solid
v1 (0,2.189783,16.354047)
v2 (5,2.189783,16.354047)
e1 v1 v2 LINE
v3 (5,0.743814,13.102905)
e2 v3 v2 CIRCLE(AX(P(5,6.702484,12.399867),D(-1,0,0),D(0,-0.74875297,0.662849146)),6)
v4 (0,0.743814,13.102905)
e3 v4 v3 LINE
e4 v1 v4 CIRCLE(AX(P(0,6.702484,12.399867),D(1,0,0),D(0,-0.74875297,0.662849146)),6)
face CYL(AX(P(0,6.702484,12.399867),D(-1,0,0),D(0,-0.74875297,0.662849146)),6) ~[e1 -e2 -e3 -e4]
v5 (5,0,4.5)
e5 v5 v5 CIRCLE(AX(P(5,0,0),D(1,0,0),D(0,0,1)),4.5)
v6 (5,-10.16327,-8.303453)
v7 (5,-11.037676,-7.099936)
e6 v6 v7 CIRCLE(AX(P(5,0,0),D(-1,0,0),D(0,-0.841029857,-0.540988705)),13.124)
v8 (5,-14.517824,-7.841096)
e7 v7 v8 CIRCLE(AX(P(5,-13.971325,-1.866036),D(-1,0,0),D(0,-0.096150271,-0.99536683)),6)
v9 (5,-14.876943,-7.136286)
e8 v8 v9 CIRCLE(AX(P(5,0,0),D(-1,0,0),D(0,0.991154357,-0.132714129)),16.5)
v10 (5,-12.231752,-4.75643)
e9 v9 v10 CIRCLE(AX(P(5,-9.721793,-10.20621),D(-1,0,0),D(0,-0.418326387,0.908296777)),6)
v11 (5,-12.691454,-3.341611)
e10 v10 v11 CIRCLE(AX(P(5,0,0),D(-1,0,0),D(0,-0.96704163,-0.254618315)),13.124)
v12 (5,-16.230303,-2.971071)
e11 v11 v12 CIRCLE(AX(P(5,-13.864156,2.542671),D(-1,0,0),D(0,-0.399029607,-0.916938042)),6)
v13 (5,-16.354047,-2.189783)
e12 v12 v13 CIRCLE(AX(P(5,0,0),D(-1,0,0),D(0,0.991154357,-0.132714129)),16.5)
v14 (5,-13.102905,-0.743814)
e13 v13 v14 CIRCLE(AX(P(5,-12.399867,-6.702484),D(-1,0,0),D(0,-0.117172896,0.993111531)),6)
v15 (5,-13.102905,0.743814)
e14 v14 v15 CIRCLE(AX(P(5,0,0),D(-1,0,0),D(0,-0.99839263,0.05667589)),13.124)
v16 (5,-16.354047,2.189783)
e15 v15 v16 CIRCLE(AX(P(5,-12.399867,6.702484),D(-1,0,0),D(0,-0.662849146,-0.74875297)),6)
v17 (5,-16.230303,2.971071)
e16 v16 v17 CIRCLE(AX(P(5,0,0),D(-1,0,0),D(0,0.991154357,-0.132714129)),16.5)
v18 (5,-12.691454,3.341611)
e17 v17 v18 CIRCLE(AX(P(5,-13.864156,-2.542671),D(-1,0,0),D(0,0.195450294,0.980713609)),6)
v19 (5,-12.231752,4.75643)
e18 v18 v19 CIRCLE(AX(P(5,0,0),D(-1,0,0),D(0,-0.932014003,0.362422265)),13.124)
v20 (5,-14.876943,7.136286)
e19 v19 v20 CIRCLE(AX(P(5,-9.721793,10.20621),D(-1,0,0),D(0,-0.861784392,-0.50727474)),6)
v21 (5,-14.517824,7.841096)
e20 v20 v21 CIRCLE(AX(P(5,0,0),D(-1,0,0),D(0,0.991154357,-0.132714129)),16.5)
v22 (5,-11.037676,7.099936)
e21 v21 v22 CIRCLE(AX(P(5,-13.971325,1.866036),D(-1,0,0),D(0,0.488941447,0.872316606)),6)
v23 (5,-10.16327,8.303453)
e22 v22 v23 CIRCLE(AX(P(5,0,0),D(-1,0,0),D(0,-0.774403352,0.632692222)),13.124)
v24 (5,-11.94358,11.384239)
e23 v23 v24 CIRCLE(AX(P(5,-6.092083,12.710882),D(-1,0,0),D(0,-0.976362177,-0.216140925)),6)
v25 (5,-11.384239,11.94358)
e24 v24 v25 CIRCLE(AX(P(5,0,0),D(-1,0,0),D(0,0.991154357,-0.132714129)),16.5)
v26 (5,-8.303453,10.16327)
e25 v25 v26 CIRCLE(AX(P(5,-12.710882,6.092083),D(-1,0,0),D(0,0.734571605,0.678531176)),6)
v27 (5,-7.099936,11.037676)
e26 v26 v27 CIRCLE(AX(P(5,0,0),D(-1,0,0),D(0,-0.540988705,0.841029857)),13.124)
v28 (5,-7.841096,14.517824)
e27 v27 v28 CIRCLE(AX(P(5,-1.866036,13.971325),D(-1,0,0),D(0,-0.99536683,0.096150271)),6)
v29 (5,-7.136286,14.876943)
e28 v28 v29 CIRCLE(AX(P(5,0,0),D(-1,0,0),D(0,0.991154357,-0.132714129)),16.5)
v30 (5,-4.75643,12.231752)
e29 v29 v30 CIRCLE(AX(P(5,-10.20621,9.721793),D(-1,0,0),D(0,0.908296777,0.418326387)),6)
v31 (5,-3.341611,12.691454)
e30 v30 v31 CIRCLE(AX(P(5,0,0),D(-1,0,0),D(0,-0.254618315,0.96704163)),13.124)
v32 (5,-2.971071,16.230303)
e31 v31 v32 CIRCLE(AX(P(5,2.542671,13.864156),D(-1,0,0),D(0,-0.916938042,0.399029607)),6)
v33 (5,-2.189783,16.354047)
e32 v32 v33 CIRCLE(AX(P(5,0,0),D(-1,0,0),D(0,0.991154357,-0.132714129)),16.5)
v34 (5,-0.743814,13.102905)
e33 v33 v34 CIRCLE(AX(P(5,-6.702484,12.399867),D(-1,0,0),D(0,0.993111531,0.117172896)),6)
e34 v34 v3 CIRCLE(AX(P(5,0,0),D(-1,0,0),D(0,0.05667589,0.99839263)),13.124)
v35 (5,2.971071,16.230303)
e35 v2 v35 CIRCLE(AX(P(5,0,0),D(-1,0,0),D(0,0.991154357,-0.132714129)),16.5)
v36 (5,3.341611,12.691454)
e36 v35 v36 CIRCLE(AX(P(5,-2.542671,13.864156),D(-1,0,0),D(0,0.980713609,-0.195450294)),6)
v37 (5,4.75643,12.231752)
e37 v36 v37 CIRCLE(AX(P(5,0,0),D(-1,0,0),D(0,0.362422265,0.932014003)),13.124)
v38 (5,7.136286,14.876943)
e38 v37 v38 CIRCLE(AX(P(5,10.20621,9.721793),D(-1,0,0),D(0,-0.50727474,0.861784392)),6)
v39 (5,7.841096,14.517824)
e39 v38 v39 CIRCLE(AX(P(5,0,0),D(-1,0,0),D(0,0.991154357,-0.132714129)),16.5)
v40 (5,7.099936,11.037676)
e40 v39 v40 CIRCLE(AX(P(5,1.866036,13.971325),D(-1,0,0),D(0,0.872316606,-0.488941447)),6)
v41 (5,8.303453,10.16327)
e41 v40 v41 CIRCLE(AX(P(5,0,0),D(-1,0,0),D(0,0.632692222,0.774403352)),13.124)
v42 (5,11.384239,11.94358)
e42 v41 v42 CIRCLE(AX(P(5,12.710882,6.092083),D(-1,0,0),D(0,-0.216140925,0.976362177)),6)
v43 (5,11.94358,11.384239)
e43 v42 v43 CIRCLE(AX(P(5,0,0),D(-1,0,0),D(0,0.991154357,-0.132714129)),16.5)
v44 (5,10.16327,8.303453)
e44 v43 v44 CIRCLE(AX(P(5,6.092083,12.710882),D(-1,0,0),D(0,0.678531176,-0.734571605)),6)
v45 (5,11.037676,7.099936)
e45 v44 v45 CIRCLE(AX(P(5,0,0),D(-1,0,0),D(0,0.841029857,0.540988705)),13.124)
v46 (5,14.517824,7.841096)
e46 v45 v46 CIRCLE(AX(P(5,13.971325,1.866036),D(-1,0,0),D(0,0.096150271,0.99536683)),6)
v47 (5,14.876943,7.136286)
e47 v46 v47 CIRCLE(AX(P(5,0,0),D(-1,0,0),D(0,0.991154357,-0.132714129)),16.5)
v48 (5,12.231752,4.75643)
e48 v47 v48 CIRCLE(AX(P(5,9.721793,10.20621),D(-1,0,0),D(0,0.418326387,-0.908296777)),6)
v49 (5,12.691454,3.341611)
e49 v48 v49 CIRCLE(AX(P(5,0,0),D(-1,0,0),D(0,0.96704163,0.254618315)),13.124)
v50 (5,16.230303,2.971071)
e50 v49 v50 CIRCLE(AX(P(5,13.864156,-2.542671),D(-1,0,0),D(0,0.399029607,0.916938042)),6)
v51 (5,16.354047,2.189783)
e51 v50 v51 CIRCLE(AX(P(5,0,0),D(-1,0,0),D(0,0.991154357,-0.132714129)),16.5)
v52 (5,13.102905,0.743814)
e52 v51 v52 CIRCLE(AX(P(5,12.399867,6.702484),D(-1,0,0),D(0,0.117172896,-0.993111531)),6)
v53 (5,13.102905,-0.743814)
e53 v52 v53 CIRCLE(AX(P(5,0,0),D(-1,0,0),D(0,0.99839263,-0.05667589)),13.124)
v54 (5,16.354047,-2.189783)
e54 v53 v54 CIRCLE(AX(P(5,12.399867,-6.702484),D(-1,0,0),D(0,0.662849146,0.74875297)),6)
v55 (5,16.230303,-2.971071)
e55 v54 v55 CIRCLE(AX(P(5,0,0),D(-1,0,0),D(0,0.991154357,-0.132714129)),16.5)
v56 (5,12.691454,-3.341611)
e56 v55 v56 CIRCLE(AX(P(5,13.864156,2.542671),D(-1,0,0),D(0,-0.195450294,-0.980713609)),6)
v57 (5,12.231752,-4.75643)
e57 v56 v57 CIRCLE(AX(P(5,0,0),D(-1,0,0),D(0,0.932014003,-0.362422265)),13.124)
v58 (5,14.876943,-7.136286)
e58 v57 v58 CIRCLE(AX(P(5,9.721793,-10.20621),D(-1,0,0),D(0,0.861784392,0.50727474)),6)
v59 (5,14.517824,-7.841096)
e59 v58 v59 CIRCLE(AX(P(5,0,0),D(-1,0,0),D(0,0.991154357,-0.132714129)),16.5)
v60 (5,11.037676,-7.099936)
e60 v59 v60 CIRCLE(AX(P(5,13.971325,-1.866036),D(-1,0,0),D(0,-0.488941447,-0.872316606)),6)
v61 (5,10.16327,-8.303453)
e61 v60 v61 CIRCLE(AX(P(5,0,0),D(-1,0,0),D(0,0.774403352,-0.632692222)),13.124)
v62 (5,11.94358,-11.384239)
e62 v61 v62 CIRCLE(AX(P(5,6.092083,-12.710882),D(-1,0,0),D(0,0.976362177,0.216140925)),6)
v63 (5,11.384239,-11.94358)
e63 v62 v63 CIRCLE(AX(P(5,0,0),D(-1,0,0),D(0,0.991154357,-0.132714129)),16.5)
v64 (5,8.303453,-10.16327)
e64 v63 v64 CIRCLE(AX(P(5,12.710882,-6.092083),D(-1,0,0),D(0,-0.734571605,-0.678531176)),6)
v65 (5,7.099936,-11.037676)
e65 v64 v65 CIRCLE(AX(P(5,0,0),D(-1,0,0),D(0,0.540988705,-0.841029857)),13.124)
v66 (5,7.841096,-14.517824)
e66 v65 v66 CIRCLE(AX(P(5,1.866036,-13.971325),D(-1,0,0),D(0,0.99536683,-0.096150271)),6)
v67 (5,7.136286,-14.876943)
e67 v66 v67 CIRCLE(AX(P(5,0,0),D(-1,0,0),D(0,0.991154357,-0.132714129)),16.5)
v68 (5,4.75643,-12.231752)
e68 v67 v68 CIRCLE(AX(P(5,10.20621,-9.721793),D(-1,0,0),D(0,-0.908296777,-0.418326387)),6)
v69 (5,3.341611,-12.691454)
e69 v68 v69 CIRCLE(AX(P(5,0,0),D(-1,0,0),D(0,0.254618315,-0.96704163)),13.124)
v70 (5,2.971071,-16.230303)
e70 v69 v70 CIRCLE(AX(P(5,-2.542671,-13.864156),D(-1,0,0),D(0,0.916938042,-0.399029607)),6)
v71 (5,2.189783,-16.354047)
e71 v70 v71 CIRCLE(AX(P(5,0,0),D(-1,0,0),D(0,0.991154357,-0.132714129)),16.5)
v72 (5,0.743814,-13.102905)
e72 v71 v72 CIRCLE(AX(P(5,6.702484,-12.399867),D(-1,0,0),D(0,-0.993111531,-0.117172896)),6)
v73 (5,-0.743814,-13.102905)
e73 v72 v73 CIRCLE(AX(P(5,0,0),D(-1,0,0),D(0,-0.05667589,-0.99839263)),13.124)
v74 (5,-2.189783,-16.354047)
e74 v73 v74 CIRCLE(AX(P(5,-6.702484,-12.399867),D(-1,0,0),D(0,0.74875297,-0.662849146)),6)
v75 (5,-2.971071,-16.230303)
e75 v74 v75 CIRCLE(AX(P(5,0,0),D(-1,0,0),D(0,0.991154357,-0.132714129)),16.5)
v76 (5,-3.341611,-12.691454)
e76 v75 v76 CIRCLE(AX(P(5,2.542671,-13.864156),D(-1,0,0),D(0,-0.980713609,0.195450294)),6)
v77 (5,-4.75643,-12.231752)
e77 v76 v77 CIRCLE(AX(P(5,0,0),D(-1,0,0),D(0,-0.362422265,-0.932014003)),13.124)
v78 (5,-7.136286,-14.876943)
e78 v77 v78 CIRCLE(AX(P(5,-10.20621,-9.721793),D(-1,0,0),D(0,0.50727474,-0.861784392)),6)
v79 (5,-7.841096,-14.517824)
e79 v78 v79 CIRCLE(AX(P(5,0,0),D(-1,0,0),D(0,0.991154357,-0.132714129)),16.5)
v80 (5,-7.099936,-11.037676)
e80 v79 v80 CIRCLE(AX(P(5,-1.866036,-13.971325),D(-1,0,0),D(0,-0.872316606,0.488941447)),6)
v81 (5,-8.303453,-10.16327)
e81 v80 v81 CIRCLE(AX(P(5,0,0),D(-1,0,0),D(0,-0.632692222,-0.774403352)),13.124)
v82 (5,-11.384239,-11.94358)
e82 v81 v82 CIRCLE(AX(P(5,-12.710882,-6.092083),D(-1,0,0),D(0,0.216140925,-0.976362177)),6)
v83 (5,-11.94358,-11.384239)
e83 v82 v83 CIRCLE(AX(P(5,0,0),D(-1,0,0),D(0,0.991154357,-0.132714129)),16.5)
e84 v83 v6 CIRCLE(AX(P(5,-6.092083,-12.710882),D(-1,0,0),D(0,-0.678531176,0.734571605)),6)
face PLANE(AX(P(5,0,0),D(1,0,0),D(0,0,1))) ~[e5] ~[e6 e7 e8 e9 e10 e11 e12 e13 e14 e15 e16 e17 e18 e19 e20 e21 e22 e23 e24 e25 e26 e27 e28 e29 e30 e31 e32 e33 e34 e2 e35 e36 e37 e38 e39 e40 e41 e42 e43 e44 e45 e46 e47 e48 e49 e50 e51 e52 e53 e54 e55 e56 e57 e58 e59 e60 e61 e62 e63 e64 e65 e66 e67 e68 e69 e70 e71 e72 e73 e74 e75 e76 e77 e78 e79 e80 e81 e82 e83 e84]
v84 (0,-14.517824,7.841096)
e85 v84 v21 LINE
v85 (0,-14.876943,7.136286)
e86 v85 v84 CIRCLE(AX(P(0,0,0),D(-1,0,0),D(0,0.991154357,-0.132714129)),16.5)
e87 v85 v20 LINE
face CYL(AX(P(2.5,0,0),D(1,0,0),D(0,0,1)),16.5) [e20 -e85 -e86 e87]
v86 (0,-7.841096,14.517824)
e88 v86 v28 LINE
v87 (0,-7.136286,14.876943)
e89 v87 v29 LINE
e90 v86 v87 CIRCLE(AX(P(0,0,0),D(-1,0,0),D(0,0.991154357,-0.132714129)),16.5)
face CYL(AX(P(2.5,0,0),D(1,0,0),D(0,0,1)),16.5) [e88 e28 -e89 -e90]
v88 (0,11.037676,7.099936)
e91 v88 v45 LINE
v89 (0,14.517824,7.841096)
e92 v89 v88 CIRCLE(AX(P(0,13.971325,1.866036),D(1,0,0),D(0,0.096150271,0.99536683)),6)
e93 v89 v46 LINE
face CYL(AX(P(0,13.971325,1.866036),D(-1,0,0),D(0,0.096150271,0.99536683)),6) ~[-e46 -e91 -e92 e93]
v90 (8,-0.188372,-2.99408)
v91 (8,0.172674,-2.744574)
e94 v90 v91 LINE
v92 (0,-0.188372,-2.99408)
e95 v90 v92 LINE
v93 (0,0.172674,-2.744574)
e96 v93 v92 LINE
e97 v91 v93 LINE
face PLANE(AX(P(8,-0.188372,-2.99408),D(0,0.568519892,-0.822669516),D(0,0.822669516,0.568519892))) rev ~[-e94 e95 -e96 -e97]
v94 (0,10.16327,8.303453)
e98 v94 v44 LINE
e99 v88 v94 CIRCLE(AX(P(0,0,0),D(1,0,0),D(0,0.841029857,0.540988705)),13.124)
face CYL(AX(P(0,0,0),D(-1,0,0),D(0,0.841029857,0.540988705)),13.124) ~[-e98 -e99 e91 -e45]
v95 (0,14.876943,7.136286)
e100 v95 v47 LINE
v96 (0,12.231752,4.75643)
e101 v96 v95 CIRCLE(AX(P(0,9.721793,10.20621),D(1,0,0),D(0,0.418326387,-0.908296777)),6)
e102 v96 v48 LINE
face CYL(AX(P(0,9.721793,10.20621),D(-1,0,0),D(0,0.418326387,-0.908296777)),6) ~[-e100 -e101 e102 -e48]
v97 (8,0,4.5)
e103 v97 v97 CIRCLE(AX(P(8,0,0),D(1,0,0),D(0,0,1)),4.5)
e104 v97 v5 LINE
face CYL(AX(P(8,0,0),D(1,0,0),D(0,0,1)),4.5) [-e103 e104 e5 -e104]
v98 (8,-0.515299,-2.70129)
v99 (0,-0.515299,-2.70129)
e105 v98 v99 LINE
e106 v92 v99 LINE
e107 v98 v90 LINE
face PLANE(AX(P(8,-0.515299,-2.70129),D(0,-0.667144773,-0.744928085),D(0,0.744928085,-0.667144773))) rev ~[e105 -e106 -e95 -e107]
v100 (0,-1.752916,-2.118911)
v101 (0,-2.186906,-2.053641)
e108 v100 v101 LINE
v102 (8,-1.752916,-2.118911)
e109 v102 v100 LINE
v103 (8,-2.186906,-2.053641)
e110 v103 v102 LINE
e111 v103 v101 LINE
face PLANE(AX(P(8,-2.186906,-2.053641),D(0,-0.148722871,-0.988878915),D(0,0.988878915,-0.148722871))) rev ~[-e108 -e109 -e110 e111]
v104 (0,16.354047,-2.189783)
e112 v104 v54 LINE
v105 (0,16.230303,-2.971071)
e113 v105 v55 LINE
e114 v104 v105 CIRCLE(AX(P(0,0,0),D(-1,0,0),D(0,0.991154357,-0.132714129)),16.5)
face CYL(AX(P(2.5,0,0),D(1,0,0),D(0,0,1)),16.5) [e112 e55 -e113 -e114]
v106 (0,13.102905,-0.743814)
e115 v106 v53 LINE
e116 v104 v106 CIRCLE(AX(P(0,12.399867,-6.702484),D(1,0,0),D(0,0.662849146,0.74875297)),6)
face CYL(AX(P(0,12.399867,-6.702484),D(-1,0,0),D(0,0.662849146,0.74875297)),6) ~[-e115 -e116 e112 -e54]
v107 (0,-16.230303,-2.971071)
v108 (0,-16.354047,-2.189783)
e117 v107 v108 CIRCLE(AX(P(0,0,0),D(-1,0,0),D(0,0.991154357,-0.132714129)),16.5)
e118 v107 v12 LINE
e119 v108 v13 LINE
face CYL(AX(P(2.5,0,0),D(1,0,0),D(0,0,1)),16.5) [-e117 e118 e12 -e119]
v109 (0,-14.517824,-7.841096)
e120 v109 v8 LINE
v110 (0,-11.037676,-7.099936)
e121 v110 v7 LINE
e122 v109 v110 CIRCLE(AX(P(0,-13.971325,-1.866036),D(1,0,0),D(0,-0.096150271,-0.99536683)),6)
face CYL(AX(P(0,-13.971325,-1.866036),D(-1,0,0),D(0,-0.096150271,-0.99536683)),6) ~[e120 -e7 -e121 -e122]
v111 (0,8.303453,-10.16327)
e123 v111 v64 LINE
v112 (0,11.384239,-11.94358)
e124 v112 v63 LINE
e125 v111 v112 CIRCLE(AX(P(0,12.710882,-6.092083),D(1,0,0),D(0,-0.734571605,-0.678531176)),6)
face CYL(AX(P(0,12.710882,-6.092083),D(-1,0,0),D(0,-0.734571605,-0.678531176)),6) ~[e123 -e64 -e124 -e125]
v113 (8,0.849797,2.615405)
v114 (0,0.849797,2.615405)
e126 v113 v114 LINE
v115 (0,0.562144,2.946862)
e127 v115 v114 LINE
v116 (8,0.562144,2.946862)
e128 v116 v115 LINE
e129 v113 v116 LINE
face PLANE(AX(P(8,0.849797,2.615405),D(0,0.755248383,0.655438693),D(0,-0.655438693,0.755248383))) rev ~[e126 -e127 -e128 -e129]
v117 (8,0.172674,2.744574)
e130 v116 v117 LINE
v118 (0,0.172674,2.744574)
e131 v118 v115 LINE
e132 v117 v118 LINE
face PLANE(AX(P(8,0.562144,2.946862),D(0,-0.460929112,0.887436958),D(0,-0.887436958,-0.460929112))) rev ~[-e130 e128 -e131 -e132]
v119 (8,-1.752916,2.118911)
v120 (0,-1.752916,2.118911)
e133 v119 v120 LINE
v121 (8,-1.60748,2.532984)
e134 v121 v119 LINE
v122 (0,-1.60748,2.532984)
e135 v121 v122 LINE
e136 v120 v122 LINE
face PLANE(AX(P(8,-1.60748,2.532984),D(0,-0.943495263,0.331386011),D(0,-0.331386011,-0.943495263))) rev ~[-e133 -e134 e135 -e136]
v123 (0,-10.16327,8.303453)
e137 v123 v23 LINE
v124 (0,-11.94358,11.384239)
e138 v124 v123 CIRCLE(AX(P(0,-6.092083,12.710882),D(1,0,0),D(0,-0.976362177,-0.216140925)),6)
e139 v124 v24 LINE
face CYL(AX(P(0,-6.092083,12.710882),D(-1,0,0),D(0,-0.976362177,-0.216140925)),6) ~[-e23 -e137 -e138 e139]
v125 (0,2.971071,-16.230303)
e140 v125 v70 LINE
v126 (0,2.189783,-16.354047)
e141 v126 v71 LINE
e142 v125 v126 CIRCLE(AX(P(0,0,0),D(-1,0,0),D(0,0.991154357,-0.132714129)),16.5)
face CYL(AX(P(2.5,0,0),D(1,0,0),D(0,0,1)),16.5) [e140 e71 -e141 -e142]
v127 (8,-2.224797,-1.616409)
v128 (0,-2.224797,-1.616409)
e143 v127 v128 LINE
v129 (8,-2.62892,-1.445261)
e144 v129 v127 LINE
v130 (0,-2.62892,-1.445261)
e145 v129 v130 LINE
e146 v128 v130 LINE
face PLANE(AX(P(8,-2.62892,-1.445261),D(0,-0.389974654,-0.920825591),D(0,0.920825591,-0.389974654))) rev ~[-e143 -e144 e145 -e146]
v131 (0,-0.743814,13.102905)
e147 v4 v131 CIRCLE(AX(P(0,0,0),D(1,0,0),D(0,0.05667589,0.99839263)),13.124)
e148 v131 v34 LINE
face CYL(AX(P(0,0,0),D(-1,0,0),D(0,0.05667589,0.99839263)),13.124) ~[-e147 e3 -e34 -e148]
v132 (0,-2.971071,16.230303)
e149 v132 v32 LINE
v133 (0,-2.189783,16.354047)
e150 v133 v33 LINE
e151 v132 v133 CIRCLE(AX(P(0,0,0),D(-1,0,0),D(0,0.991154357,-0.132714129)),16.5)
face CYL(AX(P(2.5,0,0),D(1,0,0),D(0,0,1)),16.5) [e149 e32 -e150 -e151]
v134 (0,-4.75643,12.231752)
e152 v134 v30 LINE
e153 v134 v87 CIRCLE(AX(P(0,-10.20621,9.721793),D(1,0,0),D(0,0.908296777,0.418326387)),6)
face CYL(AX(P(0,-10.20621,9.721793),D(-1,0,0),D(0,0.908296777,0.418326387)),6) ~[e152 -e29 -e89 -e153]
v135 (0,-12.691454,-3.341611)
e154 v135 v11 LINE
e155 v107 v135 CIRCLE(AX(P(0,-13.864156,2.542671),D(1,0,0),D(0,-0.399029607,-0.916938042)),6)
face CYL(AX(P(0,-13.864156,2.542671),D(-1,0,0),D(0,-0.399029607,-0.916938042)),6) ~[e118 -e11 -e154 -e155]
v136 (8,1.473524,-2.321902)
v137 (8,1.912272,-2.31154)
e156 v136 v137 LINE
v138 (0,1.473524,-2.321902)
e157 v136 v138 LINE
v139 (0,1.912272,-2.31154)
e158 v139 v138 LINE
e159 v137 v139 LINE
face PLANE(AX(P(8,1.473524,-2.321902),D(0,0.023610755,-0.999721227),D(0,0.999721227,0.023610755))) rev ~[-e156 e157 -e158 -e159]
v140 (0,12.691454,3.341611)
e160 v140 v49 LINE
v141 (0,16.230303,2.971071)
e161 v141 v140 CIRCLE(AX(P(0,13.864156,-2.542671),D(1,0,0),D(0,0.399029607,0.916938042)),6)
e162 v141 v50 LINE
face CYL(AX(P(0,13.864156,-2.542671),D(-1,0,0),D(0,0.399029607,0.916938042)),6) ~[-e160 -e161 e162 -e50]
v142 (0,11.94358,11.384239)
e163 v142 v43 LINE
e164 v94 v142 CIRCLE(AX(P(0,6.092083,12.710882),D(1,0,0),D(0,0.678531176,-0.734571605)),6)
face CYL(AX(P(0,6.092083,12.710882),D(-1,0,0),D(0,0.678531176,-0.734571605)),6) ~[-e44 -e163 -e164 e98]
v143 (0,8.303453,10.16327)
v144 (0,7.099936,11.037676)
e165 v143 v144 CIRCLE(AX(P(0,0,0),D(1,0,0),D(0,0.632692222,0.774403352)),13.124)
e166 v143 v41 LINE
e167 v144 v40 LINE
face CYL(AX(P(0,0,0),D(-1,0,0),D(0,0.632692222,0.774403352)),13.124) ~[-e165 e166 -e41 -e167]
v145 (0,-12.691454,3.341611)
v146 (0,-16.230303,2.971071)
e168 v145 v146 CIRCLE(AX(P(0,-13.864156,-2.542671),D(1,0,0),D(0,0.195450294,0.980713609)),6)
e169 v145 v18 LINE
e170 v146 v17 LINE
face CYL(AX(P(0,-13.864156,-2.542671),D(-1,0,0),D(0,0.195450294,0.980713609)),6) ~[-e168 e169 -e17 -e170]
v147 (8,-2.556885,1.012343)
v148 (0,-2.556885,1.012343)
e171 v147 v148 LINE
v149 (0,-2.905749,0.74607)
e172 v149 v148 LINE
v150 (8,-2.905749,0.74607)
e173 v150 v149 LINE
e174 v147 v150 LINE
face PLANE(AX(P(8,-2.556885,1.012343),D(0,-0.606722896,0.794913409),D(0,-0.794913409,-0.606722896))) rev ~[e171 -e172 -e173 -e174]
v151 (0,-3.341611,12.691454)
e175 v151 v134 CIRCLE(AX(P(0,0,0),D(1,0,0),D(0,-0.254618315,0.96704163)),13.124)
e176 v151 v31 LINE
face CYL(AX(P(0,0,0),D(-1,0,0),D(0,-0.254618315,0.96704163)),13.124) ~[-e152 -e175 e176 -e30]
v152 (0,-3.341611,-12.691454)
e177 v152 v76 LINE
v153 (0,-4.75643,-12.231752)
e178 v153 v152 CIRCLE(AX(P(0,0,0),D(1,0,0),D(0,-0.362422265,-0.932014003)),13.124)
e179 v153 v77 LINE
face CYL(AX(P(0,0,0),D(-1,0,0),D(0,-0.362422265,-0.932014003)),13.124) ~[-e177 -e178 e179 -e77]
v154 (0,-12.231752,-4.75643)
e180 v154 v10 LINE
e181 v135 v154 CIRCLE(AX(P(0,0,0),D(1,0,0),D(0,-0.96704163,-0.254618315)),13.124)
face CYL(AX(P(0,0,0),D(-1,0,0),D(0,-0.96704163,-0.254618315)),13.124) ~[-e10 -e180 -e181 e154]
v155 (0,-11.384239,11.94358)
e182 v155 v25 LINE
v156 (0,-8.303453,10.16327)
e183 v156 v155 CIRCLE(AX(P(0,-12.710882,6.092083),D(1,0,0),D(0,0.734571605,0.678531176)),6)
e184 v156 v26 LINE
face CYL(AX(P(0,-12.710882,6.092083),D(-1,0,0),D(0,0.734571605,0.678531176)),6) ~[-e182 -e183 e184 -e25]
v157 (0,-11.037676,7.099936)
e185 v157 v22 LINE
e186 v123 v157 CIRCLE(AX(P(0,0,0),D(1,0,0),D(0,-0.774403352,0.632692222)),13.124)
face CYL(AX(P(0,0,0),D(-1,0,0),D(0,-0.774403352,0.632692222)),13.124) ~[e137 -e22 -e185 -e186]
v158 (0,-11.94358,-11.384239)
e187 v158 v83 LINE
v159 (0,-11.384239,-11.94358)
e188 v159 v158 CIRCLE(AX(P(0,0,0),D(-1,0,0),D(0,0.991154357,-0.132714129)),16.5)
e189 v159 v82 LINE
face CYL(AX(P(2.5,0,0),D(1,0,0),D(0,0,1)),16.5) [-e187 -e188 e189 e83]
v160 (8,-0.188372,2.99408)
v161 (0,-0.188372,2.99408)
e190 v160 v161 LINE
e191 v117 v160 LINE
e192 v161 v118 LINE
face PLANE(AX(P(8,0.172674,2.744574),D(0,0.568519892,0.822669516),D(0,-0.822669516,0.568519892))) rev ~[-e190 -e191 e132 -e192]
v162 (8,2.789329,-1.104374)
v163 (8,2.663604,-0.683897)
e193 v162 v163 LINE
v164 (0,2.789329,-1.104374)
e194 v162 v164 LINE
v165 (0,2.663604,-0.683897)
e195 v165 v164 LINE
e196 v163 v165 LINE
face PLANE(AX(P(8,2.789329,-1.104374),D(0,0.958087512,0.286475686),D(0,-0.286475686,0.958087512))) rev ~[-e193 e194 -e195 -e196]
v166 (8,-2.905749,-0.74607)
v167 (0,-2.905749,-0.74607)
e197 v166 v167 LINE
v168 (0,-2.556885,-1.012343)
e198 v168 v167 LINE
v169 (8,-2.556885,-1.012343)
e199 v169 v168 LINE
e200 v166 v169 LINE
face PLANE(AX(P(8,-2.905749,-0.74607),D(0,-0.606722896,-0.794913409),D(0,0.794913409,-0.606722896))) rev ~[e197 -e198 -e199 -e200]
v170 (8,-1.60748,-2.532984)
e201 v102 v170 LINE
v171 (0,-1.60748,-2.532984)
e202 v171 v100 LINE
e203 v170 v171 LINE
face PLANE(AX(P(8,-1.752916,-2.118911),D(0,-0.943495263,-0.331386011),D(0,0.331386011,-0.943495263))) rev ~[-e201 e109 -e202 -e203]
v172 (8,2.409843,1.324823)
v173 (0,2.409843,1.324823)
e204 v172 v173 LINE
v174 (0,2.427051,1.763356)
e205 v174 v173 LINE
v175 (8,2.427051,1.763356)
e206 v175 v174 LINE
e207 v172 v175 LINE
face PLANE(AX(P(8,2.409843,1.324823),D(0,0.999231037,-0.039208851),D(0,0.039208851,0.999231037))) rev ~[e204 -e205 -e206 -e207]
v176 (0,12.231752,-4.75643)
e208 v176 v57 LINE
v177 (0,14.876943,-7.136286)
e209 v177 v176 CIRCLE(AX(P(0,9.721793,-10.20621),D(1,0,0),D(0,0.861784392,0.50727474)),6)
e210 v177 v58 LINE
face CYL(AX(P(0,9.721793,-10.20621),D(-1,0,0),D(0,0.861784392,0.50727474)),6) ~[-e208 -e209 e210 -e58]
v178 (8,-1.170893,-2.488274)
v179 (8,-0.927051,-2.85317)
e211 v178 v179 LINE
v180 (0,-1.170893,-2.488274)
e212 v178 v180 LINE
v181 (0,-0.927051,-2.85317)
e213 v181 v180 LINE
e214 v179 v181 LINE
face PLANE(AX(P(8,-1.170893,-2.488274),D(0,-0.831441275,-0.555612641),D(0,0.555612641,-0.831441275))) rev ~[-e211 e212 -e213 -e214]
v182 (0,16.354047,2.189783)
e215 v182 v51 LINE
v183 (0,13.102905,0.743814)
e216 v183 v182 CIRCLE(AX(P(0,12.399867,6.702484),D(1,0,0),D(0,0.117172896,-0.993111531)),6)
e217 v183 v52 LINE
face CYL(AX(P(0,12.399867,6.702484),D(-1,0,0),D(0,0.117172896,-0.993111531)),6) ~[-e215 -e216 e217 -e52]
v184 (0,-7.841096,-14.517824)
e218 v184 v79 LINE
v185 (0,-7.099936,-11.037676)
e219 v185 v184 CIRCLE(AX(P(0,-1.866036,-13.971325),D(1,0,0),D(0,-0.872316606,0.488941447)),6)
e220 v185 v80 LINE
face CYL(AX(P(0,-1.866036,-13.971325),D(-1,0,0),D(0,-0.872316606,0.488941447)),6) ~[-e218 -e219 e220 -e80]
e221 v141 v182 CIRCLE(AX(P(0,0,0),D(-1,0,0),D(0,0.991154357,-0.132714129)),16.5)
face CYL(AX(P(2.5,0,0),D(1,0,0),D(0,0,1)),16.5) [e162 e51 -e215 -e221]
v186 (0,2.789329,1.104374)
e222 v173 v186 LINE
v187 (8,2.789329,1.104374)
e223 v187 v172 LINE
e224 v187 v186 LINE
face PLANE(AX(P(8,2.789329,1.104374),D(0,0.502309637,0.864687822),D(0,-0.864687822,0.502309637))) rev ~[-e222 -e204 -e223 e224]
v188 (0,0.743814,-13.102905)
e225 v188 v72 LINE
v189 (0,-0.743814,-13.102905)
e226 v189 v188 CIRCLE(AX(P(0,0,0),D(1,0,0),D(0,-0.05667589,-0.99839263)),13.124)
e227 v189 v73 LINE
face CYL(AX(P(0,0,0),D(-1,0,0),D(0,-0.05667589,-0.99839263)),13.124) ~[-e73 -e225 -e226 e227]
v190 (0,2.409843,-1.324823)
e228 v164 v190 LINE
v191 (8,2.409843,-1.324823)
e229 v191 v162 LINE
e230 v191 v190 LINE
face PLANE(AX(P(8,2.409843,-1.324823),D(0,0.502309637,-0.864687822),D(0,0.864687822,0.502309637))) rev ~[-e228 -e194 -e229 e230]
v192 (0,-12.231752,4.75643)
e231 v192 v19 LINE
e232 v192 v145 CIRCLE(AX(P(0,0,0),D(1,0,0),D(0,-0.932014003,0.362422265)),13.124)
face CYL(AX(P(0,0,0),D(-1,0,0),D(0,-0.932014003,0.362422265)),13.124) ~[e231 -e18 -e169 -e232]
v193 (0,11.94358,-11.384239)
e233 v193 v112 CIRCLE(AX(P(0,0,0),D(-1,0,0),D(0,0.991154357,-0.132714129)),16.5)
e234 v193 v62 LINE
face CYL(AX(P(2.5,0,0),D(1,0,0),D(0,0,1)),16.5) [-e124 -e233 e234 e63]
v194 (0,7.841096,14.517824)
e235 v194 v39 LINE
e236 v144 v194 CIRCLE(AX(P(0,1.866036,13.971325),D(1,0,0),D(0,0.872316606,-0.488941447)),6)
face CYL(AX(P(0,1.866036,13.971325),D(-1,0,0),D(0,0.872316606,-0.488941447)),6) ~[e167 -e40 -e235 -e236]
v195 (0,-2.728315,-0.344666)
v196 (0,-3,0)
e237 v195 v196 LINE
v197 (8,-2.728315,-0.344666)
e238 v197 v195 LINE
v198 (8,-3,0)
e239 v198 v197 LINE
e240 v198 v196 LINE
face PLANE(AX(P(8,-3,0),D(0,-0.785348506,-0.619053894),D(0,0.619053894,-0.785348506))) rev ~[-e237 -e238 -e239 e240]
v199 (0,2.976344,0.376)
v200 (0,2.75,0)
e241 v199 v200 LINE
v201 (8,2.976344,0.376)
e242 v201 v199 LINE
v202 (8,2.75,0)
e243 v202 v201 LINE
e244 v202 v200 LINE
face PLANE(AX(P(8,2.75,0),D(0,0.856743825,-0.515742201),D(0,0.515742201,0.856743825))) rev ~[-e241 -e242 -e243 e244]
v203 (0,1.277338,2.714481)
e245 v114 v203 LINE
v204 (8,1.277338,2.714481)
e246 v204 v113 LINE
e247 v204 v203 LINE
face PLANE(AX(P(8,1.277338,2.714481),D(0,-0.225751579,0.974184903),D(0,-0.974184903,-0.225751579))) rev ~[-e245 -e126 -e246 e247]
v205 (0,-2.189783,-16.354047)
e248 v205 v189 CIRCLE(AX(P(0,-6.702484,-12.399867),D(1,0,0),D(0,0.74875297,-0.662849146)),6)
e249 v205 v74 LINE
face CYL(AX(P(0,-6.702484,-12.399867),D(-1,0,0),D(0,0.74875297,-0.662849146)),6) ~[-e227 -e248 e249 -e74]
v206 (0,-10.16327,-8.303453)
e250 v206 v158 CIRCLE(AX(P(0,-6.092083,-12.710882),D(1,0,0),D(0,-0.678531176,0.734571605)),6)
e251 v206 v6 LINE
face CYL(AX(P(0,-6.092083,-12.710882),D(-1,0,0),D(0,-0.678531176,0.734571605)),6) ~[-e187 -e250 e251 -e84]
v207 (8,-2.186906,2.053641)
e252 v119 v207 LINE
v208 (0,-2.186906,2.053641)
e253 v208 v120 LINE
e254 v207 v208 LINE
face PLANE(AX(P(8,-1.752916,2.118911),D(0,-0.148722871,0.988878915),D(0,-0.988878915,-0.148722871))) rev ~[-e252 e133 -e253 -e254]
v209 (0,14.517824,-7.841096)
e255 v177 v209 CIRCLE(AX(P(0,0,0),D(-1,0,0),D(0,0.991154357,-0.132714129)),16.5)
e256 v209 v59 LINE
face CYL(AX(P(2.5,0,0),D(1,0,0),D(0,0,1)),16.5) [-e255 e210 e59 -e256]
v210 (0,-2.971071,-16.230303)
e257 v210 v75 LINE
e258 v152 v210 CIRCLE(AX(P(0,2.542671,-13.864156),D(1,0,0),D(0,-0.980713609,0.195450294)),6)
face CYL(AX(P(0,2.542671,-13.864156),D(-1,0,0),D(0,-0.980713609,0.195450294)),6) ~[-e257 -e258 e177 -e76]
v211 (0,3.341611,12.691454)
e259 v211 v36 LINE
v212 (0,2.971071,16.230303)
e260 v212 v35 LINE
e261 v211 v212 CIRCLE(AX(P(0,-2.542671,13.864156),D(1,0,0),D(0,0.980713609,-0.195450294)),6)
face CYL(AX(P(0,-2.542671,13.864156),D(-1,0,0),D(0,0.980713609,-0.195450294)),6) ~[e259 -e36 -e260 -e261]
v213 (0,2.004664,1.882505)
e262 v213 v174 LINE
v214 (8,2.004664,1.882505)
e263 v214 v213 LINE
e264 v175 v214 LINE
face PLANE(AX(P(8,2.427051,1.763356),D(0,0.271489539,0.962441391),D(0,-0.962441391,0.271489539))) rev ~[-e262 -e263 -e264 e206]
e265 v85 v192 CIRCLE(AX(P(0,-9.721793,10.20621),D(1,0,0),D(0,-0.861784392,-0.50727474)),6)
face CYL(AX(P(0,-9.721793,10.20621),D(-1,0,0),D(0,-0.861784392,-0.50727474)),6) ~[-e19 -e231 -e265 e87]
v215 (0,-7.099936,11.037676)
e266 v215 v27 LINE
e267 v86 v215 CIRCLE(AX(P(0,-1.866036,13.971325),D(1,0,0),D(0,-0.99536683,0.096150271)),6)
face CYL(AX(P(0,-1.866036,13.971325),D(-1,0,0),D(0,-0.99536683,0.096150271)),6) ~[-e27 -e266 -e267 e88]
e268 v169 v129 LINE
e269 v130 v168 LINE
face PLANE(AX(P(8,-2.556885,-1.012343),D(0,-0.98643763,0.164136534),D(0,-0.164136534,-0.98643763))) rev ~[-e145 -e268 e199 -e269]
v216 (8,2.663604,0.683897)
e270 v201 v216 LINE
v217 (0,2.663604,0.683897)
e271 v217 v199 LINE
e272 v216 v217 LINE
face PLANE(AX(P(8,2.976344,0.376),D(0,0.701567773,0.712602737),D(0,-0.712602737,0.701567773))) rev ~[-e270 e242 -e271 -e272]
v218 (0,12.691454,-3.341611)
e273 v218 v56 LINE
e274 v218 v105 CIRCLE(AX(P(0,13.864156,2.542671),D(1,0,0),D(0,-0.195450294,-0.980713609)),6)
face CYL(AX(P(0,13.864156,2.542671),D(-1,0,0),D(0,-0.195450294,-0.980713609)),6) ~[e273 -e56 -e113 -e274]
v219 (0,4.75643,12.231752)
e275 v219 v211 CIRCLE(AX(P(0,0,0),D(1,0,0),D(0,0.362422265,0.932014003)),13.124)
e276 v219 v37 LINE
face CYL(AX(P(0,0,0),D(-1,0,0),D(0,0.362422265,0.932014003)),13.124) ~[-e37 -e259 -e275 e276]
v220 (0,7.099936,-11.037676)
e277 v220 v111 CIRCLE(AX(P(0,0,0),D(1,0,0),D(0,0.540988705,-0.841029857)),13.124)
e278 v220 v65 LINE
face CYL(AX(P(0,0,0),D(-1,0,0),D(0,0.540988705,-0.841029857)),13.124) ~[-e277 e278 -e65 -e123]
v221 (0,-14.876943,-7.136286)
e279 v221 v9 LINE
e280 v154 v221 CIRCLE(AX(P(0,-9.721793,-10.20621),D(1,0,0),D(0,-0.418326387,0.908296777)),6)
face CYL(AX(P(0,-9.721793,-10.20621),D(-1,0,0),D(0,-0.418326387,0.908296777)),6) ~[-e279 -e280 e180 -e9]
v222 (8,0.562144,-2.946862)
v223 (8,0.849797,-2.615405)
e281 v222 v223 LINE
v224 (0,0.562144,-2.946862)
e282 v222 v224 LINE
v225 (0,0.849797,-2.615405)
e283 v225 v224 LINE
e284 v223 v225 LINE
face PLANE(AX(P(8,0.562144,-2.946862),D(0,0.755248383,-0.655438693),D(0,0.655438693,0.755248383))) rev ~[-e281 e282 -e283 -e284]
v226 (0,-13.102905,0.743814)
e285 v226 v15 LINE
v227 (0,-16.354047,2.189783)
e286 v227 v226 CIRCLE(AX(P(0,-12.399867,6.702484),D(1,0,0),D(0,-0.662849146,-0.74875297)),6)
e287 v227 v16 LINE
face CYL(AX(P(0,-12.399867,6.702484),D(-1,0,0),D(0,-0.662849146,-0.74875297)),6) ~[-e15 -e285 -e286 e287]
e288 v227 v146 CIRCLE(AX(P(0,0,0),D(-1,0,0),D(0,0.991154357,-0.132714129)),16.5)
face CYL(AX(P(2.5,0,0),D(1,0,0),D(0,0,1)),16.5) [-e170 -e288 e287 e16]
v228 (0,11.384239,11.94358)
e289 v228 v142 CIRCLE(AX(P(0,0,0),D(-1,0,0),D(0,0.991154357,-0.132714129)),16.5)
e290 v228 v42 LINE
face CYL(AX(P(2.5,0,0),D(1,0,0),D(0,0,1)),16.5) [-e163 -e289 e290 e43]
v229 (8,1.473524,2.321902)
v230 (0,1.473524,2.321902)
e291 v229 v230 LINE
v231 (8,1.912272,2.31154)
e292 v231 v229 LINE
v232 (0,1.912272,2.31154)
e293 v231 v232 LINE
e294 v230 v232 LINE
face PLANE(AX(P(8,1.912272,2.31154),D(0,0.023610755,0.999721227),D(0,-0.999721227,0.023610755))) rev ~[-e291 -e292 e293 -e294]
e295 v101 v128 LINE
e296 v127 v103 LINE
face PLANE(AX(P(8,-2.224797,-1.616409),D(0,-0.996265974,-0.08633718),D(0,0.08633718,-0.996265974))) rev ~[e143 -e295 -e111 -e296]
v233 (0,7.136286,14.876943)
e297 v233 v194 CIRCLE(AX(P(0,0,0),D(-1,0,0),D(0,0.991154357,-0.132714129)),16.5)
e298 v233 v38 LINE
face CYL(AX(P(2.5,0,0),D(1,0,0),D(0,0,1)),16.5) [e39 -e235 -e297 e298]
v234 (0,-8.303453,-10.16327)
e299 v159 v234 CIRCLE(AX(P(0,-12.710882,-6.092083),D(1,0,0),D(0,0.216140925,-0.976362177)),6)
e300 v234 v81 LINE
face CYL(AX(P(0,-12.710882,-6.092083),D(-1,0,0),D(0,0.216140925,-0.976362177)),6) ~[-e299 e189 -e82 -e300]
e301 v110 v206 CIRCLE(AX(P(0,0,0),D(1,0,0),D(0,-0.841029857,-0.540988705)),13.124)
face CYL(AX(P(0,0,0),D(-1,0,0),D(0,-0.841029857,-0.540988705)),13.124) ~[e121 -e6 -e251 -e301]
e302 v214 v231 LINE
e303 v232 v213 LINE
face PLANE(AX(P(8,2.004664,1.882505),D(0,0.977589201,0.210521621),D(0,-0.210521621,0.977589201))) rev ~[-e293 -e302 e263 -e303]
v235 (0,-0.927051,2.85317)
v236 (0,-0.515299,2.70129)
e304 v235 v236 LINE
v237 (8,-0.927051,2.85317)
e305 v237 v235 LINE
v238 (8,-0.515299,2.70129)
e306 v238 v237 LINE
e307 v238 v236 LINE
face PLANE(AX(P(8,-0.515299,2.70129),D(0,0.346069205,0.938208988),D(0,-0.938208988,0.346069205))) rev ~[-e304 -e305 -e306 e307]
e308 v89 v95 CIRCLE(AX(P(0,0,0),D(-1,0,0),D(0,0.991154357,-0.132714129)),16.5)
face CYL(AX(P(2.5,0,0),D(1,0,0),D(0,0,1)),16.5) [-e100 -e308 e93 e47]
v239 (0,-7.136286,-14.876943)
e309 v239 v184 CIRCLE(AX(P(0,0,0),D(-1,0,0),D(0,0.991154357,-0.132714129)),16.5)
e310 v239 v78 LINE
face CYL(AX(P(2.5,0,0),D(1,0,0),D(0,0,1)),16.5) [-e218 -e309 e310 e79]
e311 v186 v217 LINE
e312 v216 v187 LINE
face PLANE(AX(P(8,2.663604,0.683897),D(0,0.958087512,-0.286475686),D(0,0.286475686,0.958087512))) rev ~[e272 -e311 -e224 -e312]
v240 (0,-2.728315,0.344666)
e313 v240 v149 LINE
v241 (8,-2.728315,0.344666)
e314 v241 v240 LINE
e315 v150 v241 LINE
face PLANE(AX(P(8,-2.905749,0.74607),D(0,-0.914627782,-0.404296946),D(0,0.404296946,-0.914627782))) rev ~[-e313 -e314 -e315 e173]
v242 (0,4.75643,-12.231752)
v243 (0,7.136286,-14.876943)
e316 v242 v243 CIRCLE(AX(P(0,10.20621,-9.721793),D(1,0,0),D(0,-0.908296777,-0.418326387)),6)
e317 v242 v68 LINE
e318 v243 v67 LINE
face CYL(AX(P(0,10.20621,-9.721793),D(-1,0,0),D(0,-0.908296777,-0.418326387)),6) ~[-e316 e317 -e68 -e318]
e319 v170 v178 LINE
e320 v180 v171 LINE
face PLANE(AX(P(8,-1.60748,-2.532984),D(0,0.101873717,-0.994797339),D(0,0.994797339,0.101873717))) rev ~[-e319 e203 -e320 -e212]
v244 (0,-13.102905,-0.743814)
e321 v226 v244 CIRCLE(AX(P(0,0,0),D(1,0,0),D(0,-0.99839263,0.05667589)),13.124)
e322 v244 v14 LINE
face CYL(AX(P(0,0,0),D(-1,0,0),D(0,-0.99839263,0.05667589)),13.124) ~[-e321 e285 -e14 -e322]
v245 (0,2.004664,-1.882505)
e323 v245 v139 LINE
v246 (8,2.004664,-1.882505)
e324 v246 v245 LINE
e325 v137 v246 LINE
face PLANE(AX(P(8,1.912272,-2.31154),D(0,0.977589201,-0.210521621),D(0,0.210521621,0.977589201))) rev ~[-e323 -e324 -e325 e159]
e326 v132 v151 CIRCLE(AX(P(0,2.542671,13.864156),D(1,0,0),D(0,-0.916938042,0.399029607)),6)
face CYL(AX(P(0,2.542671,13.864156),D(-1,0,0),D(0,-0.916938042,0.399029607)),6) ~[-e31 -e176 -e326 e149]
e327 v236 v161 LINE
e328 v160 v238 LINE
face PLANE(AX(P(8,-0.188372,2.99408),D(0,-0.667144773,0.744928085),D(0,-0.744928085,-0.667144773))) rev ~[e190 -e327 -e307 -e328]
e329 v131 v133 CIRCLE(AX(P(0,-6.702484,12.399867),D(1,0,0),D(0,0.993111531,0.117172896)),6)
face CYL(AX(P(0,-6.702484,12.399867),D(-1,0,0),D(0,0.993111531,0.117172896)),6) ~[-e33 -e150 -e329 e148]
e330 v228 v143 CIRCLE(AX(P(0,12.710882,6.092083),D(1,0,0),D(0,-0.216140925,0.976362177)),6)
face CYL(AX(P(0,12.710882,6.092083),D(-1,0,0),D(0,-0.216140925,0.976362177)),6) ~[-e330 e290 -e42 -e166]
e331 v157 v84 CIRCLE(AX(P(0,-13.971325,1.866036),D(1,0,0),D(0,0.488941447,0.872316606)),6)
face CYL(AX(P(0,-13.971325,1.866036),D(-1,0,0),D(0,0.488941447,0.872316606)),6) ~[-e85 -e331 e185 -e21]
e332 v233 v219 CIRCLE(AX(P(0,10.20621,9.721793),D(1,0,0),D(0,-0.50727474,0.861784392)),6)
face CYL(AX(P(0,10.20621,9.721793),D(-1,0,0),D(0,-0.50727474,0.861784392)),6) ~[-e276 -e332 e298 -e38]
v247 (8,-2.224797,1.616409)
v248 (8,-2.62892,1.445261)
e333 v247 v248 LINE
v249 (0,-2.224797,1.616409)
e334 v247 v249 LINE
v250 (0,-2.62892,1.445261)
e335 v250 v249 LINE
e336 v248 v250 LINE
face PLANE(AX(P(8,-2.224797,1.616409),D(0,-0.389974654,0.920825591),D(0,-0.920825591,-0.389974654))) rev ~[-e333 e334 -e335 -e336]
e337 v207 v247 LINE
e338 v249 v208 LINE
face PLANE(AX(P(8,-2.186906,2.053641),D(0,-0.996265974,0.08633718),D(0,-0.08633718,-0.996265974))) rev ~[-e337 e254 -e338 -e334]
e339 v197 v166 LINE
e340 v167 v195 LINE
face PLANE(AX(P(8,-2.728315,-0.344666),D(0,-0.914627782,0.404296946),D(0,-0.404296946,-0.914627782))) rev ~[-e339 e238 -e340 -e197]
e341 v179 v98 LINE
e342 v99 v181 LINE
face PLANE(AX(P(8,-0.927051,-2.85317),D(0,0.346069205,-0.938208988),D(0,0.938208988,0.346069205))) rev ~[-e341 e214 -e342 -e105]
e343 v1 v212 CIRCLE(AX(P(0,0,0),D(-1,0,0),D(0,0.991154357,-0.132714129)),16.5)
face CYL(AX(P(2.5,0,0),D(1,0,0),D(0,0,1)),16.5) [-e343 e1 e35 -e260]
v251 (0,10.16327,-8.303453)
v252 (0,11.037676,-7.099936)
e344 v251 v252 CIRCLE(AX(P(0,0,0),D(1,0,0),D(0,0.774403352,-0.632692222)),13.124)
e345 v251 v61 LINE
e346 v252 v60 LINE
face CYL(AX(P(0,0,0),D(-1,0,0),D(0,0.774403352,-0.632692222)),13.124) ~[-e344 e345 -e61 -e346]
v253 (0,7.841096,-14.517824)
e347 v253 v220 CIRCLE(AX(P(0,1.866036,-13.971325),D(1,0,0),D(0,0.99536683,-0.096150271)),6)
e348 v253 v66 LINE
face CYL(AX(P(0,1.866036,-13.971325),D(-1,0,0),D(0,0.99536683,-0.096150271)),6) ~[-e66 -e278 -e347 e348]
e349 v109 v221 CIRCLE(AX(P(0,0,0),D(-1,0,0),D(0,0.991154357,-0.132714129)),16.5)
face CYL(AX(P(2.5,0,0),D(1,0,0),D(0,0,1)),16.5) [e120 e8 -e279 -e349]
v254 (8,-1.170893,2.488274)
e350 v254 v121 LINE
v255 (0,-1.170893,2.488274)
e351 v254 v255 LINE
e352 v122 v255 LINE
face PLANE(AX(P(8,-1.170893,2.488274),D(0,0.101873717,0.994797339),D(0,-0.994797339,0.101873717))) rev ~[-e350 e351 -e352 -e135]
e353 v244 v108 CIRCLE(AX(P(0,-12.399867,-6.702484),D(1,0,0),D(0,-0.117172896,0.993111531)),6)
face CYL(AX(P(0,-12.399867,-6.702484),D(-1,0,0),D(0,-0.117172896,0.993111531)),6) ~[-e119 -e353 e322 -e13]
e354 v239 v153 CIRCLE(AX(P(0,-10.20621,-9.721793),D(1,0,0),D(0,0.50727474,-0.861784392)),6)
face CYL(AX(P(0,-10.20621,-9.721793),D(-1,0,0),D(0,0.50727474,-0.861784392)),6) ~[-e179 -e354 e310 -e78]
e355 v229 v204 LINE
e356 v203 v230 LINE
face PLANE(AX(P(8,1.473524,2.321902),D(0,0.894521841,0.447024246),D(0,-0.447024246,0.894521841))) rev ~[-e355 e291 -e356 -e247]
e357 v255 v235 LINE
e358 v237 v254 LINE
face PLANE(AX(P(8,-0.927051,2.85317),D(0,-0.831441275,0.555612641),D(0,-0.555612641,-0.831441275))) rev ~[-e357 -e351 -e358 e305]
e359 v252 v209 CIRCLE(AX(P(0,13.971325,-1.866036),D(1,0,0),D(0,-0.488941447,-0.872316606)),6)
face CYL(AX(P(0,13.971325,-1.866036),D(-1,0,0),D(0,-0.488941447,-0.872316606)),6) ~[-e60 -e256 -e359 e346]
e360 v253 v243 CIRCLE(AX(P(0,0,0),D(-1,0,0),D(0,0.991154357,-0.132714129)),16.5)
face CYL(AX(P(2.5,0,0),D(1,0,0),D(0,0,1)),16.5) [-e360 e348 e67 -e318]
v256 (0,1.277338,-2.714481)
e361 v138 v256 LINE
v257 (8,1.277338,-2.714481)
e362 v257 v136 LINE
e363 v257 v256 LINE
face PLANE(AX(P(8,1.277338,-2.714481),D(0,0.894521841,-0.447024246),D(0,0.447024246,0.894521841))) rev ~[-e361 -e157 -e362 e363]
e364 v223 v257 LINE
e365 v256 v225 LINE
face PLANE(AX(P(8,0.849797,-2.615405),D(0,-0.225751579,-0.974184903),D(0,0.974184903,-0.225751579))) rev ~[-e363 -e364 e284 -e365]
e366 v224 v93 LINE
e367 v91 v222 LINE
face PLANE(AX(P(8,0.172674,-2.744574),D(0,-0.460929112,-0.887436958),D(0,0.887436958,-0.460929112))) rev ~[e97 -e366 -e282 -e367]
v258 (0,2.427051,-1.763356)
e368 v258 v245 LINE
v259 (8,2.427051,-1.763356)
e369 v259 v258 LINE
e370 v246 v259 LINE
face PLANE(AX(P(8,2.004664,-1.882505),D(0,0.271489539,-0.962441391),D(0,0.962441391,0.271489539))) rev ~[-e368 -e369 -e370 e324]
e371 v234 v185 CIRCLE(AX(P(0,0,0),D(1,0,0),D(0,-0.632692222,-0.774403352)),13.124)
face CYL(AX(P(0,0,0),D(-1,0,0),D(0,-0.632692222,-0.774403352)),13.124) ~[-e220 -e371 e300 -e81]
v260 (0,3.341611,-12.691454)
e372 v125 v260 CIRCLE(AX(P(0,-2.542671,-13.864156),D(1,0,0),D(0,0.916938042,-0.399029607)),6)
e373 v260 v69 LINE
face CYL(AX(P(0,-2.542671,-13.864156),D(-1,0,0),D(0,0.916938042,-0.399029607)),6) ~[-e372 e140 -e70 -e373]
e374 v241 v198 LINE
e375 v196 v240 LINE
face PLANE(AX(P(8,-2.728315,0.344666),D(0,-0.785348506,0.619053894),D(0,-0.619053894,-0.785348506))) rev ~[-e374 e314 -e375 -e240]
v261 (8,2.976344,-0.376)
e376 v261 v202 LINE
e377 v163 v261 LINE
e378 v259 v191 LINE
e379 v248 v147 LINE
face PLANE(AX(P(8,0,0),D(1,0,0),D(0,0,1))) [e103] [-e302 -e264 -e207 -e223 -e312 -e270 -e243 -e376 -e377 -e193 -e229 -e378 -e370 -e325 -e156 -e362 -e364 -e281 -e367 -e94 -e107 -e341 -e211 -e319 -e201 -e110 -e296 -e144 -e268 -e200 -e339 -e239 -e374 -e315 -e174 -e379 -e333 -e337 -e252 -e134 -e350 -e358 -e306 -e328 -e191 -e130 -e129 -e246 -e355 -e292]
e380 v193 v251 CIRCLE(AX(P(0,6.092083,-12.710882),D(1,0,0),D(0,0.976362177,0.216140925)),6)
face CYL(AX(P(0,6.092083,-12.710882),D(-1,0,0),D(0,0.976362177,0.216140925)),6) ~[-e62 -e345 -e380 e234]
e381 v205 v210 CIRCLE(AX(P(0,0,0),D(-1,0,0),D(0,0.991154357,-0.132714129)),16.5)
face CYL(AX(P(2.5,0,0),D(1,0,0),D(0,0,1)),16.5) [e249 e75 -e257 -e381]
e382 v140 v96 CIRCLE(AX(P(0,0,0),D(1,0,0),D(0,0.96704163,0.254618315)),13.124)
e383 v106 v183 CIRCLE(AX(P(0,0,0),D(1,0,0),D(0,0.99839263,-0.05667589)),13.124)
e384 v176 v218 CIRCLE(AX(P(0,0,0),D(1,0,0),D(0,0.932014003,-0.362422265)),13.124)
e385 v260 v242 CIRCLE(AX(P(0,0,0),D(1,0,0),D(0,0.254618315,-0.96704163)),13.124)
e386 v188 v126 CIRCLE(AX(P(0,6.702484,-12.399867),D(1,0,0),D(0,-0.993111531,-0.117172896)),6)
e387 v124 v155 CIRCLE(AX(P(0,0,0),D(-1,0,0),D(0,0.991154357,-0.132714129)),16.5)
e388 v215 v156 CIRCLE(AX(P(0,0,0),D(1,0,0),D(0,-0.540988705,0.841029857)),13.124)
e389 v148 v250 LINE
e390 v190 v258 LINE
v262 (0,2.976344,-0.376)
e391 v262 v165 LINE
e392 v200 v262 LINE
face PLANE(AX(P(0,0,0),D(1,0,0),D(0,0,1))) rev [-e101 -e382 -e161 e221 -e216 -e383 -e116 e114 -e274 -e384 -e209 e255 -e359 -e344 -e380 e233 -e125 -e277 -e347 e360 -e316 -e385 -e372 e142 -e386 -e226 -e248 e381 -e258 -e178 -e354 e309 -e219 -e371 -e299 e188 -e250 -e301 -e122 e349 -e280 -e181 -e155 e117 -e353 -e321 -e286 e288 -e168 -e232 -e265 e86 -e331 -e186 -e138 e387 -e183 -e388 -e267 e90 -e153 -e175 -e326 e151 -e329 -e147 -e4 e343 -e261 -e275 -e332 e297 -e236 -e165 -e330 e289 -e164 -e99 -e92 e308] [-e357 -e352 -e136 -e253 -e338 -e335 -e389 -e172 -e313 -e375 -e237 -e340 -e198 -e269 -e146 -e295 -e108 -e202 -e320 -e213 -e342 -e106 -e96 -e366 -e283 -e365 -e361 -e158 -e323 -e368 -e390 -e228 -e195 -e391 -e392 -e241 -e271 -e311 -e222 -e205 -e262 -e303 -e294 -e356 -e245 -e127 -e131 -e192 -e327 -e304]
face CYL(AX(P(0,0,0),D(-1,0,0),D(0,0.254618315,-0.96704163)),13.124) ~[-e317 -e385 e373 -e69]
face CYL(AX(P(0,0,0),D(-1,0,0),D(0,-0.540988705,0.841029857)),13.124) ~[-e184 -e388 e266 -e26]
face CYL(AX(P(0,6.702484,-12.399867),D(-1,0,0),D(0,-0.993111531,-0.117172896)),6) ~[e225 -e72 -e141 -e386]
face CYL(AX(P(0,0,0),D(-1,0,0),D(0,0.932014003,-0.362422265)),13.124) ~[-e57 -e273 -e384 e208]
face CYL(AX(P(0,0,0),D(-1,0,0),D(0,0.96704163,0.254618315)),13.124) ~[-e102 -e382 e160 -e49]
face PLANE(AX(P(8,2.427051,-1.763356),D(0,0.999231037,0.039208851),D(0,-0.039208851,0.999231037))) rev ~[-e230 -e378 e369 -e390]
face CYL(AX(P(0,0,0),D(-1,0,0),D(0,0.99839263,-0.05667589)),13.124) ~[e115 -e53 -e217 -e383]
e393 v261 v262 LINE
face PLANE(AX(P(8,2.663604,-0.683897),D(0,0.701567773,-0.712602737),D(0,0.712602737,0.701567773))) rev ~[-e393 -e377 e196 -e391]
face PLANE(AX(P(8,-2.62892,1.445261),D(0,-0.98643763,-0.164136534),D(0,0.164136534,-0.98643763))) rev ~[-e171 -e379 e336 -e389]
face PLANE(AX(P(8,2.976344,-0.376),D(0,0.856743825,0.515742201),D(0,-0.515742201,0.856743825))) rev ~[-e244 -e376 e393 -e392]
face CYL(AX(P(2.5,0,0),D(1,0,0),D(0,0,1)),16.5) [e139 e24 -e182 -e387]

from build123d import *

# Parameters (mm, degrees)
BASPROSKE_W         = 5
BASPROSKE_H         = 16.5
TOOTHCUT_DEPTH      = 24.864199128
TEETHCUTS_COUNT     = 20
TEETHCUTS_ANGLE     = 342
BORSKE_R            = 2.5
BORE_DEPTH          = 50.0000508
BOSS_EXTRUDE1_START = 3
SKETCH1_R           = 4.5
SKETCH1_R_2         = 2.5
BOSS_EXTRUDE1_DEPTH = 3
SKETCH2_R           = 2.75
SKETCH2_R_2         = 2.5
CUT_EXTRUDE1_DEPTH  = 25.472631648
CIRPATTERN1_COUNT   = 25


with BuildPart() as part:
    # BasProSke → Base-Revolve (revolve)
    with BuildSketch(Plane(origin=(0, 0, 0), x_dir=(1, 0, 0), z_dir=(0, 1, 0)), mode=Mode.PRIVATE) as base_revolve_sk:
        with Locations((2.5, 8.25)):
            Rectangle(BASPROSKE_W, BASPROSKE_H)
    revolve(base_revolve_sk.sketch.rotate(Axis((-10, 0, 0), (1, 0, 0)), 180), axis=Axis((-10, 0, 0), (1, 0, 0)))

    # TooCutSke → ToothCut (cut, through all)
    with BuildSketch(Plane(origin=(0, 0, 0), x_dir=(0, 0, -1), z_dir=(1, 0, 0))):
        with BuildLine():
            ThreePointArc((0.74381438, 13.102904875), (0, 13.124), (-0.74381438, 13.102904875))
            ThreePointArc((-0.74381438, 13.102904875), (-1.226473103, 14.852072512), (-2.209965745, 16.376962373))
            ThreePointArc((-2.209965745, 16.376962373), (0, 16.5254), (2.209965745, 16.376962373))
            ThreePointArc((2.209965745, 16.376962373), (1.226473103, 14.852072512), (0.74381438, 13.102904875))
        make_face()
    toothcut = extrude(amount=TOOTHCUT_DEPTH, mode=Mode.SUBTRACT)

    # TeethCuts: ToothCut ×20 about axis
    teethcuts_axis = Axis((-10, 0, 0), (1, 0, 0))
    for i in range(1, TEETHCUTS_COUNT):
        add(toothcut.rotate(teethcuts_axis, i * TEETHCUTS_ANGLE / (TEETHCUTS_COUNT - 1)), mode=Mode.SUBTRACT)

    # BorSke → Bore (cut, symmetric)
    with BuildSketch(Plane(origin=(0, 0, 0), x_dir=(0, 0, -1), z_dir=(1, 0, 0))):
        with Locations(Location((0, 0, 0), (0, 0, 180))):
            Circle(BORSKE_R)
    extrude(amount=BORE_DEPTH, both=True, mode=Mode.SUBTRACT)

    # Sketch1 → Boss-Extrude1 (add)
    with BuildSketch(Plane(origin=(5, 0, 0), x_dir=(0, 0, -1), z_dir=(1, 0, 0)).offset(BOSS_EXTRUDE1_START)):
        with Locations(Location((0, 0, 0), (0, 0, 180))):
            Circle(SKETCH1_R)
        Circle(SKETCH1_R_2, mode=Mode.SUBTRACT)
    extrude(amount=-BOSS_EXTRUDE1_DEPTH)

    # Sketch2 → Cut-Extrude1 (cut, through all)
    # profile 1 of 2: a face of its own
    with BuildSketch(Plane(origin=(8, 0, 0), x_dir=(0, 0, -1), z_dir=(1, 0, 0))):
        with BuildLine():
            ThreePointArc((0.344666392, -2.728315429), (0, -2.75), (-0.344666392, -2.728315429))
            Line((-0.344666392, -2.728315429), (0, -3))
            Line((0, -3), (0.344666392, -2.728315429))
        make_face()
    # profile 2 of 2: a face of its own
    with BuildSketch(Plane(origin=(8, 0, 0), x_dir=(0, 0, -1), z_dir=(1, 0, 0))):
        Circle(SKETCH2_R)
        Circle(SKETCH2_R_2, mode=Mode.SUBTRACT)
    cut_extrude1 = extrude(amount=-CUT_EXTRUDE1_DEPTH, mode=Mode.SUBTRACT)

    # CirPattern1: Cut-Extrude1 ×25 about axis
    cirpattern1_axis = Axis((0, 0, 0), (1, 0, 0))
    for i in range(1, CIRPATTERN1_COUNT):
        add(cut_extrude1.rotate(cirpattern1_axis, i * 360 / CIRPATTERN1_COUNT), mode=Mode.SUBTRACT)


solid = part.part
